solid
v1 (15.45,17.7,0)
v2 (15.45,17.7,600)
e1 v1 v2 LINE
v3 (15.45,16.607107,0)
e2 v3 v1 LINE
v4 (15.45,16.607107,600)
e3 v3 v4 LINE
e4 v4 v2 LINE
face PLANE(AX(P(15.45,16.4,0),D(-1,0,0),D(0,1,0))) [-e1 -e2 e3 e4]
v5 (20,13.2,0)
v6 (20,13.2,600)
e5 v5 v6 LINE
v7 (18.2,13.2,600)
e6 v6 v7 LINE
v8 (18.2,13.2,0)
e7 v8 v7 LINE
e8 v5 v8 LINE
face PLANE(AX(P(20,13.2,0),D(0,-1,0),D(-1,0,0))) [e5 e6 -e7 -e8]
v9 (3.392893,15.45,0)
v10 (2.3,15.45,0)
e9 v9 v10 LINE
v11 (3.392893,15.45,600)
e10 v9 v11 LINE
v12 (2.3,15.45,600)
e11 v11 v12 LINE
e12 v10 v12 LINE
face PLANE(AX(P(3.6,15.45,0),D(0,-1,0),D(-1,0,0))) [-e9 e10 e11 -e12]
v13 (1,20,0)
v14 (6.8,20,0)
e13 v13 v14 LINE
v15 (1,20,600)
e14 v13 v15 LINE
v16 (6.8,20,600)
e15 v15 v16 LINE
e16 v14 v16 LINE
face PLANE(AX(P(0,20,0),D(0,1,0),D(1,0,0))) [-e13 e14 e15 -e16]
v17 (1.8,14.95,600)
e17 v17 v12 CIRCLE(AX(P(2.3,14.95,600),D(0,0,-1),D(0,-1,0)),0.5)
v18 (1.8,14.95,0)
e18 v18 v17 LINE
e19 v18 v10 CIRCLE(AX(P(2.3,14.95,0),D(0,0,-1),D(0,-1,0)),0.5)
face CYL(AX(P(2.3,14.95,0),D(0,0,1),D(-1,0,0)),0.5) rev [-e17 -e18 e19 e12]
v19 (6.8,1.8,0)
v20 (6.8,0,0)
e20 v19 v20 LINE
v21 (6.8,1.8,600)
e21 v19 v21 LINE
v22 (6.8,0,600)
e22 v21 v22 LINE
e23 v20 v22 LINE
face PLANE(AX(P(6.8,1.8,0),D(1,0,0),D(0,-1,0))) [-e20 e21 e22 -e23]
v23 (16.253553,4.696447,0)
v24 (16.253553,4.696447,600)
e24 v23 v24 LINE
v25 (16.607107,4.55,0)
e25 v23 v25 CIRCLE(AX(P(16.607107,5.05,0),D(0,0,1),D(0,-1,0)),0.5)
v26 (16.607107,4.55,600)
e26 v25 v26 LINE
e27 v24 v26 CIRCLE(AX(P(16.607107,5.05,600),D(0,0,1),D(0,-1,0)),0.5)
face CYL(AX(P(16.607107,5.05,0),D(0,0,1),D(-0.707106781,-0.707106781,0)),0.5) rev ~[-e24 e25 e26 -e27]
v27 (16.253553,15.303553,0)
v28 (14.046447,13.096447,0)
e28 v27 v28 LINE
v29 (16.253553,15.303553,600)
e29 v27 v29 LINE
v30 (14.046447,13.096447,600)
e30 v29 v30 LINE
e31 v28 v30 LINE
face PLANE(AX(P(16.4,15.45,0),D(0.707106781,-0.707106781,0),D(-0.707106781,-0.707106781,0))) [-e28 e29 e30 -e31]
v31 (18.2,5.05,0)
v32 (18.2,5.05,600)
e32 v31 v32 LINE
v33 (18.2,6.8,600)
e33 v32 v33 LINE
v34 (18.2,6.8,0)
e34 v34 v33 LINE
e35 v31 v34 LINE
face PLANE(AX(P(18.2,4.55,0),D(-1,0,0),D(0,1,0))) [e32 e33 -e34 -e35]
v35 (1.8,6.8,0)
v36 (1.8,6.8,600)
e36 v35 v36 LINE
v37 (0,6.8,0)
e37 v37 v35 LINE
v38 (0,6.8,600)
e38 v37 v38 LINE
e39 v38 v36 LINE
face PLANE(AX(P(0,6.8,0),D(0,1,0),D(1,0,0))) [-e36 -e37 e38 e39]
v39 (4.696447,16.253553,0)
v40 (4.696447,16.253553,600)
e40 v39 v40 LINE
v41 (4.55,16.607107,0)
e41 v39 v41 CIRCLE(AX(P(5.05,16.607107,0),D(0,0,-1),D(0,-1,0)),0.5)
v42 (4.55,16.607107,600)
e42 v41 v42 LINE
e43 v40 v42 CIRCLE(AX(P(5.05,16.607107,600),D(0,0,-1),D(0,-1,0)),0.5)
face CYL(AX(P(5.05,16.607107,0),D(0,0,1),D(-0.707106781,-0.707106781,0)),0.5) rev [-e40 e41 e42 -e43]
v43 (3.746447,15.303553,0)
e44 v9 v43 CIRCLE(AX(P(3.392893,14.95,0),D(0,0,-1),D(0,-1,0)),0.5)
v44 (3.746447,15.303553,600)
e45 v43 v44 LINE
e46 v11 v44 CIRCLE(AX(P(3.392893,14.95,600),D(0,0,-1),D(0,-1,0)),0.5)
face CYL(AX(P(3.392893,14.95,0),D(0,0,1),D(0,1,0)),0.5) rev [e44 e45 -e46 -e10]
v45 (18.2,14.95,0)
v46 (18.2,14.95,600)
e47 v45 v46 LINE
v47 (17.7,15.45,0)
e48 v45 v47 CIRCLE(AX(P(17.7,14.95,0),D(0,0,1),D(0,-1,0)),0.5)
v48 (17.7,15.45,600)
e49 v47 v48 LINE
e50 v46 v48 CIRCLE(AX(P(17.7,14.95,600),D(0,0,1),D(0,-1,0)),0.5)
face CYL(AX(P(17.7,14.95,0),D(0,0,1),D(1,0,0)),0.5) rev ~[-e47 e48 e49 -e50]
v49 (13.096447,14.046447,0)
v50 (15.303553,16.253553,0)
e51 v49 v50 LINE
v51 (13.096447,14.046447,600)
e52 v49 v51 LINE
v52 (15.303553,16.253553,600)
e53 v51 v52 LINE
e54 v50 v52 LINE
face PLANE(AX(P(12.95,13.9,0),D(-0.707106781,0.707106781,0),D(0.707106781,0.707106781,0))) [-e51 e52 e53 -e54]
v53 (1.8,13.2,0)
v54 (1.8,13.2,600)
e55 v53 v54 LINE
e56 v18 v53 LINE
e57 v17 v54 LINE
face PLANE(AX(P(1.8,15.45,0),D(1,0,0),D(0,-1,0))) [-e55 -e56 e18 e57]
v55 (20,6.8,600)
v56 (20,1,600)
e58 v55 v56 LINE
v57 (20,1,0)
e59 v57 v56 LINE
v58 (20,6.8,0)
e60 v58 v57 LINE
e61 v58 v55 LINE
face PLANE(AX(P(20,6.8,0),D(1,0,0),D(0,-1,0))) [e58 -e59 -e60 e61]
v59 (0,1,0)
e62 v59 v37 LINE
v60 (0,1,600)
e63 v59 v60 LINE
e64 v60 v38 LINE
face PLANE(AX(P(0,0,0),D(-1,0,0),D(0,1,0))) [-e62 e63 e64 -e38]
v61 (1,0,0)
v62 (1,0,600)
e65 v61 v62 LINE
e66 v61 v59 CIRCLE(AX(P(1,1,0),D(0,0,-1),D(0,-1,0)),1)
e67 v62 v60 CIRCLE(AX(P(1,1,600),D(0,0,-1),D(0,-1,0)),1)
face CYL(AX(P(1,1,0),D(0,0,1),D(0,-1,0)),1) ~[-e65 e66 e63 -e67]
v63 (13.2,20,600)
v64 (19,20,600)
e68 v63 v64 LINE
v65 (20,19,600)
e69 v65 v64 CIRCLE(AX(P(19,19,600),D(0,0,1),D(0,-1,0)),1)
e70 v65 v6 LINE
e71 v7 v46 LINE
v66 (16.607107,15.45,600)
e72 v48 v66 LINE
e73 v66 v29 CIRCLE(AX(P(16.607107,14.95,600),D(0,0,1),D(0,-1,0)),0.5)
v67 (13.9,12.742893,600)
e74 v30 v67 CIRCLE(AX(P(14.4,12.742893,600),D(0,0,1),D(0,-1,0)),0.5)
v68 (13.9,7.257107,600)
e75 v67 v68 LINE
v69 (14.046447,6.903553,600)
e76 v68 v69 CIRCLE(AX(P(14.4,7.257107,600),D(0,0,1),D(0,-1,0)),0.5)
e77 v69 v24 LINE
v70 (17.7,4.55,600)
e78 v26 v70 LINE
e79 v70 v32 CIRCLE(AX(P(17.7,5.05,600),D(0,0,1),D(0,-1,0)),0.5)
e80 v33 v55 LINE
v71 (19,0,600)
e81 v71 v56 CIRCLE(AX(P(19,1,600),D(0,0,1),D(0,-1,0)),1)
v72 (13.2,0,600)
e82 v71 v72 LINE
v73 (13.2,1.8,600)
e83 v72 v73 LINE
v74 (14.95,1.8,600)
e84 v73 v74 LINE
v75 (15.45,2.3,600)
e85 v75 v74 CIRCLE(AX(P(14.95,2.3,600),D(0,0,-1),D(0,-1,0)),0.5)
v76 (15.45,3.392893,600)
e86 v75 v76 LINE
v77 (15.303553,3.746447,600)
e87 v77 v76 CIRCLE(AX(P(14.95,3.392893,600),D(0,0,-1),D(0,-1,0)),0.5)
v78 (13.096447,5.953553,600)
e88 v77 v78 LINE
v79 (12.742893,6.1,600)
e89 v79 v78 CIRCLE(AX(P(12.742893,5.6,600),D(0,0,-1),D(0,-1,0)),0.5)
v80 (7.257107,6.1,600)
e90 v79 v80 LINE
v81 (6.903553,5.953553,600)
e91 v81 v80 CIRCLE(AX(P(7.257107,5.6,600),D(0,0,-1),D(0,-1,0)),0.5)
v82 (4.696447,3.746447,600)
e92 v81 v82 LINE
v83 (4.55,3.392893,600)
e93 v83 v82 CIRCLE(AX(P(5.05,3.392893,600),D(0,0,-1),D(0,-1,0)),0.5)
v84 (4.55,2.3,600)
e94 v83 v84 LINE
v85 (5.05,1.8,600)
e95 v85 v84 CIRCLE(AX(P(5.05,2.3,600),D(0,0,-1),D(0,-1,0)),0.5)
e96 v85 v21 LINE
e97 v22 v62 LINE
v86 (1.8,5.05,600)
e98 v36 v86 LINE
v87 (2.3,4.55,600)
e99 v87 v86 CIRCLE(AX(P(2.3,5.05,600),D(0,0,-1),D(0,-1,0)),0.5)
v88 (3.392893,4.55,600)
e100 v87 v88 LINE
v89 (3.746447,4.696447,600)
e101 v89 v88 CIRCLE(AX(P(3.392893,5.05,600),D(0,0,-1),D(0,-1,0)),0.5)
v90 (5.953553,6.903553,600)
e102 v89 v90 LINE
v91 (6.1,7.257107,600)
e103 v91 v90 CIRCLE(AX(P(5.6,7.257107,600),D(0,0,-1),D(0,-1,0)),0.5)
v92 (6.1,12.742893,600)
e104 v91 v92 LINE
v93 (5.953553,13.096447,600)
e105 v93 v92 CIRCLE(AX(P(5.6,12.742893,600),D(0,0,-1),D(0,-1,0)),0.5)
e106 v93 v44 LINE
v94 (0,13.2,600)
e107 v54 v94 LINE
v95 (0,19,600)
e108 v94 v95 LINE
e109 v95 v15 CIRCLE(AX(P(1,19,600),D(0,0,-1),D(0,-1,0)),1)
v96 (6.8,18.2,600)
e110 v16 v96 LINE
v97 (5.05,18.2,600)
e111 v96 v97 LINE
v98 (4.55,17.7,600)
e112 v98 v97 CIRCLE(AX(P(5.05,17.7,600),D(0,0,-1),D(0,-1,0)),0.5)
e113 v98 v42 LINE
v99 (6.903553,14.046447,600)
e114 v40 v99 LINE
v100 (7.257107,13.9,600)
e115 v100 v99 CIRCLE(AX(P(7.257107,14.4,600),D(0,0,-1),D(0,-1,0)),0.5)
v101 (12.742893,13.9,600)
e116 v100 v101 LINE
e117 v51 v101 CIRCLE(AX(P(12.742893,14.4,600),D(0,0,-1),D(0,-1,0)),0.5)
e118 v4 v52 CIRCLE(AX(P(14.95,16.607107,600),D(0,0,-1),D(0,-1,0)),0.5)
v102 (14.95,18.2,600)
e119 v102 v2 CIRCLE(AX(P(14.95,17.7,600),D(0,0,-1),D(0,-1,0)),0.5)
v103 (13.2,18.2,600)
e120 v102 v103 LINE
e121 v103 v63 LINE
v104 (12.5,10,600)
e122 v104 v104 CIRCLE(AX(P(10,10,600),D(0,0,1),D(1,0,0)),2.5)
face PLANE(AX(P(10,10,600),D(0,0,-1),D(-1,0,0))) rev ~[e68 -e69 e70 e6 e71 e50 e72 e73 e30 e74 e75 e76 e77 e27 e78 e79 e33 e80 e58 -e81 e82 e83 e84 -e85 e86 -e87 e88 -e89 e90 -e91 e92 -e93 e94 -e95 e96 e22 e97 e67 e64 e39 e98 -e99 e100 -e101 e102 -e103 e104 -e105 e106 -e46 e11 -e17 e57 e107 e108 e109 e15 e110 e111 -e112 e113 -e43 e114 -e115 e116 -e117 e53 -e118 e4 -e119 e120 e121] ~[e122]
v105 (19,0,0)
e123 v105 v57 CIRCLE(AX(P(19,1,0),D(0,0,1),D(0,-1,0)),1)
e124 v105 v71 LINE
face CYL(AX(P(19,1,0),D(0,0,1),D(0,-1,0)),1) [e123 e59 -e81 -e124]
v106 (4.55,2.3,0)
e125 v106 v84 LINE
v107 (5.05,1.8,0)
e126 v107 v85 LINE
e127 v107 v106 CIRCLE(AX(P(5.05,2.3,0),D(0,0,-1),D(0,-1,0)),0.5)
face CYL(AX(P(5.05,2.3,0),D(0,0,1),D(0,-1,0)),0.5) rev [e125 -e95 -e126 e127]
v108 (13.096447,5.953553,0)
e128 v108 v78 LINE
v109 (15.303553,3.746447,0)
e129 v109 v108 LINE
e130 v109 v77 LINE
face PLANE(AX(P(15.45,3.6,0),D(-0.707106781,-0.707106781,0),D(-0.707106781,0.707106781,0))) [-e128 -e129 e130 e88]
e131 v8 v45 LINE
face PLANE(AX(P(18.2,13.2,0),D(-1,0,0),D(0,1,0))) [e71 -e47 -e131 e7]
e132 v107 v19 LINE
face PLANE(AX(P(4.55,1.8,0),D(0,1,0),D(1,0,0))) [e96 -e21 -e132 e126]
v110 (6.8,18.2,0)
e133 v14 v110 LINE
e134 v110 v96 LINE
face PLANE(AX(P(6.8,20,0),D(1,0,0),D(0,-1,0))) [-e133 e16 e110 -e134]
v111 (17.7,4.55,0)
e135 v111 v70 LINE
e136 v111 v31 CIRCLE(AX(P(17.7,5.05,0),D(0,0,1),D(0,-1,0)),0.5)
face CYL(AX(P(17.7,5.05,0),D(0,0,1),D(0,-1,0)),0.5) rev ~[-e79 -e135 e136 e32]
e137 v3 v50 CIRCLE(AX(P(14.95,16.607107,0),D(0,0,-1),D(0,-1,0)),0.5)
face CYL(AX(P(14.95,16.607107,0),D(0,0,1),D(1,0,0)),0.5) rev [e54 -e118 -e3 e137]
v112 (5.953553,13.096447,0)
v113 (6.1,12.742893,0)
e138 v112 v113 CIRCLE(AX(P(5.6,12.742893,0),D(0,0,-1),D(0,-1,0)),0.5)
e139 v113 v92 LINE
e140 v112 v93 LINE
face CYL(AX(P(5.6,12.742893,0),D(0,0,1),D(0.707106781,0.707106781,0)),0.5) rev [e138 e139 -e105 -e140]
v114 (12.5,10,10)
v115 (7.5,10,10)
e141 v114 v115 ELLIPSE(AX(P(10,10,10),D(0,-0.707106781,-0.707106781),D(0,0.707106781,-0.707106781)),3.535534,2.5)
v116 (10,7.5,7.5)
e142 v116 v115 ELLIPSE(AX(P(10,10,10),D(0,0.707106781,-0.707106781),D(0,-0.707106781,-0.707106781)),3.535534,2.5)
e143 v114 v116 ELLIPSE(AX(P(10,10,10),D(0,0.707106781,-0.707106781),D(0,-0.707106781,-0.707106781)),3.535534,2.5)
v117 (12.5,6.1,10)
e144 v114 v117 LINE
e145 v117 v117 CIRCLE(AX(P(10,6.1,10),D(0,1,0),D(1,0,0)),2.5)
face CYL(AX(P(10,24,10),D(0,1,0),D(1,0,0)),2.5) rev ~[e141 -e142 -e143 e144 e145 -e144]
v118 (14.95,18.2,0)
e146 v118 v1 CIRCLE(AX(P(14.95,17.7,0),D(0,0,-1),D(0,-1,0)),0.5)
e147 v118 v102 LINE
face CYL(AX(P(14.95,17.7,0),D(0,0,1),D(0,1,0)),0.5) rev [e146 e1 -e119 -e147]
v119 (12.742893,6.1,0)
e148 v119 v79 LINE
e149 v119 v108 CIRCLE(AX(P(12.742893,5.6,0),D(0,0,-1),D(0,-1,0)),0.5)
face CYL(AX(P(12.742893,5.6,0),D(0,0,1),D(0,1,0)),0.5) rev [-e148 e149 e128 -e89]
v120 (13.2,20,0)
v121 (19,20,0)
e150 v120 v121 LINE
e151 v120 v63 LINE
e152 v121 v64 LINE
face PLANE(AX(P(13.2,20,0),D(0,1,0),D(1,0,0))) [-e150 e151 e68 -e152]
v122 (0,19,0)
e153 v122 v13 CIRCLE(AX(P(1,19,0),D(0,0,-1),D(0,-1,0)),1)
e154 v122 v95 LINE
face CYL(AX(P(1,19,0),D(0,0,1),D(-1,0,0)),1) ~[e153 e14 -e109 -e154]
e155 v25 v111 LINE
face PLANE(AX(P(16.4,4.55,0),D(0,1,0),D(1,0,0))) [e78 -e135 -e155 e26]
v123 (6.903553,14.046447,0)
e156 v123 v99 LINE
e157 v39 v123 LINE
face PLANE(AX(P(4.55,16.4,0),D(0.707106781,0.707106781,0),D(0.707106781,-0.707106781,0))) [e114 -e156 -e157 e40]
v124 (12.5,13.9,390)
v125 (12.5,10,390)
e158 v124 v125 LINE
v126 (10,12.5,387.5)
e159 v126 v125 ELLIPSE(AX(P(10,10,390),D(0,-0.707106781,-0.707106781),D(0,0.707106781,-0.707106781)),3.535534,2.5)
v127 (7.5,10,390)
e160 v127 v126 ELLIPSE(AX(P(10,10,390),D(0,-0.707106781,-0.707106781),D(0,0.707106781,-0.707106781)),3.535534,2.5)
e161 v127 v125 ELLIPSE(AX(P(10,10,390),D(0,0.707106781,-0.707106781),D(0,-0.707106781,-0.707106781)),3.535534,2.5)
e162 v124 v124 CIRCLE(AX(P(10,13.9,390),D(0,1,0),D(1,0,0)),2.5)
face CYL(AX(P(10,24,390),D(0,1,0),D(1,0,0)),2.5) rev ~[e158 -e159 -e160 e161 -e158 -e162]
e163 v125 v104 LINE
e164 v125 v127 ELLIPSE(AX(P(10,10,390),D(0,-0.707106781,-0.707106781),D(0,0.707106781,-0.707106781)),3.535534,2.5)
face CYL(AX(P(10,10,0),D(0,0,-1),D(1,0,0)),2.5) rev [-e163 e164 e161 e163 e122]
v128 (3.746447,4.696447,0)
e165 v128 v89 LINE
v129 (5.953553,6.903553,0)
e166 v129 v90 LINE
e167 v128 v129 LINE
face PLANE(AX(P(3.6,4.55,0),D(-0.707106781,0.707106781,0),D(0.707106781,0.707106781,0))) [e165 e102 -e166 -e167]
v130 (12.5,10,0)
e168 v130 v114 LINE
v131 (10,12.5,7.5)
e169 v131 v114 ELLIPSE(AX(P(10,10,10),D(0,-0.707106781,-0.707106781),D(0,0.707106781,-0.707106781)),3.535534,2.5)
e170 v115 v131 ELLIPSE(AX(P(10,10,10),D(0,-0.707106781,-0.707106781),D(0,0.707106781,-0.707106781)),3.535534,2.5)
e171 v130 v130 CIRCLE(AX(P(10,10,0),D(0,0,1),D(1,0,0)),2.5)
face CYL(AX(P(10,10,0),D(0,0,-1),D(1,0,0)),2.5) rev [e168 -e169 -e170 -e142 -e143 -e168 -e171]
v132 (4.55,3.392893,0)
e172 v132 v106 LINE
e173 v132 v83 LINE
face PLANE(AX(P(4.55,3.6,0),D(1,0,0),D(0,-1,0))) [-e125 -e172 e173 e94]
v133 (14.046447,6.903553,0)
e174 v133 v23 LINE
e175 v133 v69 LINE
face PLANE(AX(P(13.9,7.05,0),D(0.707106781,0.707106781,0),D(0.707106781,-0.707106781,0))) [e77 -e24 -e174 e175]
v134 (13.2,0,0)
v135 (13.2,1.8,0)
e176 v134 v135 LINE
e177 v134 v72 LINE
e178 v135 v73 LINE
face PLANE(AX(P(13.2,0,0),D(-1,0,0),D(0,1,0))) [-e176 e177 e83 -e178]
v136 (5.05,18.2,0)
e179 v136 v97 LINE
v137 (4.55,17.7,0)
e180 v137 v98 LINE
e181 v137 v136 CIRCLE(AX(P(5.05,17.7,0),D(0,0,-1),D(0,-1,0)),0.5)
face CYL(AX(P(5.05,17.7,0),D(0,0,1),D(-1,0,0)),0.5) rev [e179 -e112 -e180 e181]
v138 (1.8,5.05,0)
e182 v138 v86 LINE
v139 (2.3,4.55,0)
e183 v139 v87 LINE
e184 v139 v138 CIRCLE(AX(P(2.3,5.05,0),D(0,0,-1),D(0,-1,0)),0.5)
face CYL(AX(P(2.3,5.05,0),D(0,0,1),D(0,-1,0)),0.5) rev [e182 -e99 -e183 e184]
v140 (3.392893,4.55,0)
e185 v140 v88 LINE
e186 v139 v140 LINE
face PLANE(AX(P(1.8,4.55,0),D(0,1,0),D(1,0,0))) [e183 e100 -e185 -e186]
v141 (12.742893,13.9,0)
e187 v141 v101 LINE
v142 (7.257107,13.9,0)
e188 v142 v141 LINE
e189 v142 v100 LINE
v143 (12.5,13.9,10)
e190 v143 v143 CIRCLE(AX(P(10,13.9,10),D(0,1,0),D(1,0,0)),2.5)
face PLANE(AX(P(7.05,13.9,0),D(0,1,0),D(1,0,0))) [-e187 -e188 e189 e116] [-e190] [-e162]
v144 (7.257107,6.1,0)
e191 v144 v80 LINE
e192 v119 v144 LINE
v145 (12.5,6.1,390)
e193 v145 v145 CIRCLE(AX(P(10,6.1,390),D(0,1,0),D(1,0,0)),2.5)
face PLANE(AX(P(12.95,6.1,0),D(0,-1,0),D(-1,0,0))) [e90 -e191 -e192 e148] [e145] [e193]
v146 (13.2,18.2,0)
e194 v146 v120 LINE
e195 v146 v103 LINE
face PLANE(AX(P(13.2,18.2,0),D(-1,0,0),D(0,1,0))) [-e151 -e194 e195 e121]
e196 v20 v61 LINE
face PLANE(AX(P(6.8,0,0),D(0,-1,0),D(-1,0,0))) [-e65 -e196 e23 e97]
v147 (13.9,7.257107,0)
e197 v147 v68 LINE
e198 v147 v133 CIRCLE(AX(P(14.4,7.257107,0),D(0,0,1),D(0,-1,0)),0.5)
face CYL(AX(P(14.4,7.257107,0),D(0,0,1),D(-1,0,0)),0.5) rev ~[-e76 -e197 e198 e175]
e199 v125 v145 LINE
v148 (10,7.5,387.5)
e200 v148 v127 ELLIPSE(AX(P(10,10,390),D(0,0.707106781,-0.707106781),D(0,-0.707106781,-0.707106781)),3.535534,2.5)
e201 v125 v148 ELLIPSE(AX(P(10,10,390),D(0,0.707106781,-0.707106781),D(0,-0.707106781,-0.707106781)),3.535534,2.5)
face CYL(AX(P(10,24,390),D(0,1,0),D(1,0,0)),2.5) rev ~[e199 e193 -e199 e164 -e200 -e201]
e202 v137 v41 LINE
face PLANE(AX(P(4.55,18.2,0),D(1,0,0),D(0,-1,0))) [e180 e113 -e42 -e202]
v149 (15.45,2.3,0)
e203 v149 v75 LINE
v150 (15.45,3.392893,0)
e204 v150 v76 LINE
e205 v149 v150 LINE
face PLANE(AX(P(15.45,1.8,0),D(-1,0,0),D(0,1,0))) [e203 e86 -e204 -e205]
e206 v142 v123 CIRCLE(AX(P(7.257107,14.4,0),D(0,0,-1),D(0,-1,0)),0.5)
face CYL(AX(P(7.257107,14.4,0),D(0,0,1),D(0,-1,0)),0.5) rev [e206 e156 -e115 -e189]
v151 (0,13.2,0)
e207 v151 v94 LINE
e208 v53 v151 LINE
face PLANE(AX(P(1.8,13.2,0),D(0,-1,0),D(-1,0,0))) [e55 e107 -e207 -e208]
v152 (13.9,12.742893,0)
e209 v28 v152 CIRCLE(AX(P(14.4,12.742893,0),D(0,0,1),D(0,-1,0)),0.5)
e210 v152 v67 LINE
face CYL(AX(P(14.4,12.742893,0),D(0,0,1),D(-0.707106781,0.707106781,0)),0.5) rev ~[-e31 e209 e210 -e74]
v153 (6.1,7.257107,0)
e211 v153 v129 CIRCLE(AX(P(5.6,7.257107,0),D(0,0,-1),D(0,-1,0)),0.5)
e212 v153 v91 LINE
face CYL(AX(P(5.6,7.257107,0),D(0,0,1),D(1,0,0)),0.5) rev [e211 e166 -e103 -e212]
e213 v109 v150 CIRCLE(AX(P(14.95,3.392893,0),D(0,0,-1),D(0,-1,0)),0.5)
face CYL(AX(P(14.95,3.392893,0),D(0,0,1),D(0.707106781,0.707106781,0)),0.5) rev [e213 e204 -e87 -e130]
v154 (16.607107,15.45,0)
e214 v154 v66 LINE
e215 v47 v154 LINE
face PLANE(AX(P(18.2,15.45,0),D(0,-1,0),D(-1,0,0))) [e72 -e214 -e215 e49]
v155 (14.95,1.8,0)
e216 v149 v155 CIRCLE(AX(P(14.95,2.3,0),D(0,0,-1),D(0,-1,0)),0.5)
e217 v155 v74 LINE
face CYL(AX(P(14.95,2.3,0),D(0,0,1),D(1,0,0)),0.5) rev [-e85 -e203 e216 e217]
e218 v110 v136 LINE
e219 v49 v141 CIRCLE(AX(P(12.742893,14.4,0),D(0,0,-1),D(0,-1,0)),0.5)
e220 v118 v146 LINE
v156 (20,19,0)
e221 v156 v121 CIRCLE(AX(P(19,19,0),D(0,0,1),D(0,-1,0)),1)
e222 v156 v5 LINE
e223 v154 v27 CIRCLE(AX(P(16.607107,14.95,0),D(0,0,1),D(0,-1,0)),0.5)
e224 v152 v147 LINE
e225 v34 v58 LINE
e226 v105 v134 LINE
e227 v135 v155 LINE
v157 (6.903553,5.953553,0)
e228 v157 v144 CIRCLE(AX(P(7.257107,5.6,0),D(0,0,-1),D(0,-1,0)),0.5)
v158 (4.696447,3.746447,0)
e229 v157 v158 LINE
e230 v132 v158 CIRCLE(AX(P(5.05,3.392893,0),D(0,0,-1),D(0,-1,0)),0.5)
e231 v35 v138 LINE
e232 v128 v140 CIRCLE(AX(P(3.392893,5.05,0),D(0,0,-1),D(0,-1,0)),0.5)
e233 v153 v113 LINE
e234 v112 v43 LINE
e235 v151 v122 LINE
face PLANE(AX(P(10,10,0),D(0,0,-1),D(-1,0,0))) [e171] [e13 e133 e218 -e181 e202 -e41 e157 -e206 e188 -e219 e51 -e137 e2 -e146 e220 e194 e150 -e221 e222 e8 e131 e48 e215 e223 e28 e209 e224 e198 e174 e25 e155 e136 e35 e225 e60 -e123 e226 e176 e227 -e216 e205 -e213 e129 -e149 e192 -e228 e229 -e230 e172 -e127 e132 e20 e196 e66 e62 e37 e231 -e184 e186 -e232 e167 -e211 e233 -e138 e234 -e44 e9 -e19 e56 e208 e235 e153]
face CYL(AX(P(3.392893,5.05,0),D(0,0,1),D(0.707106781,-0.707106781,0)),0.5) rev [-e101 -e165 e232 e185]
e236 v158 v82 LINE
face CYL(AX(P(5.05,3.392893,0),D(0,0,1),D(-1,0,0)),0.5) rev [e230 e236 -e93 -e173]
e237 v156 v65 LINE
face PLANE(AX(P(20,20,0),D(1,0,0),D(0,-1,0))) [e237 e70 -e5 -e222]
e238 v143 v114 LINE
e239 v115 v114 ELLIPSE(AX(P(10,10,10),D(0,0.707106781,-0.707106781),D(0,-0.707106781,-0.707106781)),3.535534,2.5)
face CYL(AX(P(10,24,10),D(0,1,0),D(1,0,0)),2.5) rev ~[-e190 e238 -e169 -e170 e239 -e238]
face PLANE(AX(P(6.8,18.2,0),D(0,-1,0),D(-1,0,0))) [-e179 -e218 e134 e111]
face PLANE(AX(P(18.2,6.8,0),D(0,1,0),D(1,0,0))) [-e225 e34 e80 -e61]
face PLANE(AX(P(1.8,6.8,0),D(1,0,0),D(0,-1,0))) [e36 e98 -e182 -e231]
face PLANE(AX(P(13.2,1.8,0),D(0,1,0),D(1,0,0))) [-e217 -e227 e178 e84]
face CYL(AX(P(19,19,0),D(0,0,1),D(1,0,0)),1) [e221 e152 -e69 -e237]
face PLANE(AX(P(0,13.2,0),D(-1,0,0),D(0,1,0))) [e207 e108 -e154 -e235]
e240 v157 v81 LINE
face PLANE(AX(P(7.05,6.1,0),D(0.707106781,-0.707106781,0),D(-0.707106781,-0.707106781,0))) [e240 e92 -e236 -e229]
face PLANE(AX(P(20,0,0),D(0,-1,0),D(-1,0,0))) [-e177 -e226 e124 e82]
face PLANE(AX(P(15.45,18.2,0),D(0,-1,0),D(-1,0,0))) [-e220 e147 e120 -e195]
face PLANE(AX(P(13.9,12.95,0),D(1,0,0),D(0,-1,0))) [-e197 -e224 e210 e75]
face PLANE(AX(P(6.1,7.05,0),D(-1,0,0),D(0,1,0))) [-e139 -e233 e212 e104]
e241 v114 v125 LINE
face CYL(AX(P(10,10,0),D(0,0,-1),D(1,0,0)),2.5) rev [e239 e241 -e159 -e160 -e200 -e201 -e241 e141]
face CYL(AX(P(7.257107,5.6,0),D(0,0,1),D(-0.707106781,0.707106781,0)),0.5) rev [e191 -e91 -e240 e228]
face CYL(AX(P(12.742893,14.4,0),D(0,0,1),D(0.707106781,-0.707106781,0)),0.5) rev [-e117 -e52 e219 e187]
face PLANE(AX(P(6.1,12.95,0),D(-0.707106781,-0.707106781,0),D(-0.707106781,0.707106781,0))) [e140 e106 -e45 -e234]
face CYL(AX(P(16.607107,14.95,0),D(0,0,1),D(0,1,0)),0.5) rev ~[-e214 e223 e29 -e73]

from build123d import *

# Parameters (mm, degrees)
SKETCH1_R           = 2.5
BOSS_EXTRUDE1_DEPTH = 600
FILLET1_R           = 1
FILLET2_R           = 0.5
FILLET3_R           = 0.5
FILLET4_R           = 0.5
FILLET5_R           = 0.5
CUT_EXTRUDE1_REACH  = 602.813
SKETCH2_R           = 2.5


with BuildPart() as part:
    # Sketch1 → Boss-Extrude1 (new body)
    with BuildSketch(Plane.XY):
        Polygon((13.2, 0), (13.2, 1.8), (15.45, 1.8), (15.45, 3.6), (12.95, 6.1), (7.05, 6.1), (4.55, 3.6), (4.55, 1.8), (6.8, 1.8), (6.8, 0), (0, 0), (0, 6.8), (1.8, 6.8), (1.8, 4.55), (3.6, 4.55), (6.1, 7.05), (6.1, 12.95), (3.6, 15.45), (1.8, 15.45), (1.8, 13.2), (0, 13.2), (0, 20), (6.8, 20), (6.8, 18.2), (4.55, 18.2), (4.55, 16.4), (7.05, 13.9), (12.95, 13.9), (15.45, 16.4), (15.45, 18.2), (13.2, 18.2), (13.2, 20), (20, 20), (20, 13.2), (18.2, 13.2), (18.2, 15.45), (16.4, 15.45), (13.9, 12.95), (13.9, 7.05), (16.4, 4.55), (18.2, 4.55), (18.2, 6.8), (20, 6.8), (20, 0), align=None)
        with Locations((10, 10)):
            Circle(SKETCH1_R, mode=Mode.SUBTRACT)
    extrude(amount=BOSS_EXTRUDE1_DEPTH)

    # Fillet1
    fillet1_edges = [part.edges().sort_by_distance(p)[0] for p in [
        (0, 0, 300),
        (0, 20, 300),
        (20, 20, 300),
        (20, 0, 300),
    ]]
    fillet(fillet1_edges, radius=FILLET1_R)

    # Fillet2
    fillet2_edges = [part.edges().sort_by_distance(p)[0] for p in [
        (4.55, 18.2, 300),
        (4.55, 16.4, 300),
        (7.05, 13.9, 300),
        (12.95, 13.9, 300),
        (15.45, 16.4, 300),
        (15.45, 18.2, 300),
    ]]
    fillet(fillet2_edges, radius=FILLET2_R)

    # Fillet3
    fillet3_edges = [part.edges().sort_by_distance(p)[0] for p in [
        (18.2, 15.45, 300),
        (16.4, 15.45, 300),
        (13.9, 12.95, 300),
        (13.9, 7.05, 300),
        (16.4, 4.55, 300),
        (18.2, 4.55, 300),
    ]]
    fillet(fillet3_edges, radius=FILLET3_R)

    # Fillet4
    fillet4_edges = [part.edges().sort_by_distance(p)[0] for p in [
        (1.8, 4.55, 300),
        (3.6, 4.55, 300),
        (6.1, 7.05, 300),
        (6.1, 12.95, 300),
        (3.6, 15.45, 300),
        (1.8, 15.45, 300),
    ]]
    fillet(fillet4_edges, radius=FILLET4_R)

    # Fillet5
    fillet5_edges = [part.edges().sort_by_distance(p)[0] for p in [
        (15.45, 1.8, 300),
        (15.45, 3.6, 300),
        (12.95, 6.1, 300),
        (7.05, 6.1, 300),
        (4.55, 3.6, 300),
        (4.55, 1.8, 300),
    ]]
    fillet(fillet5_edges, radius=FILLET5_R)

    # Cut-Extrude1: up to this face of the body (flat: up to its plane)
    cut_extrude1_end = Plane(part.part.faces().sort_by_distance((10, 6.1, 300))[0])
    # Sketch2 → Cut-Extrude1 (cut, up to the picked face)
    with BuildSketch(Plane(origin=(0, 24, 0), x_dir=(1, 0, 0), z_dir=(0, 1, 0)), mode=Mode.PRIVATE) as cut_extrude1_sk1:
        with Locations((10, -10)):
            Circle(SKETCH2_R)
    cut_extrude1_tool1 = split(extrude(cut_extrude1_sk1.sketch, amount=-CUT_EXTRUDE1_REACH, mode=Mode.PRIVATE), bisect_by=cut_extrude1_end, keep=Keep.BOTH, mode=Mode.PRIVATE)
    # Sketch2 → Cut-Extrude1 (cut, up to the picked face)
    with BuildSketch(Plane(origin=(0, 24, 0), x_dir=(1, 0, 0), z_dir=(0, 1, 0)), mode=Mode.PRIVATE) as cut_extrude1_sk2:
        with Locations((10, -390)):
            Circle(SKETCH2_R)
    cut_extrude1_tool2 = split(extrude(cut_extrude1_sk2.sketch, amount=-CUT_EXTRUDE1_REACH, mode=Mode.PRIVATE), bisect_by=cut_extrude1_end, keep=Keep.BOTH, mode=Mode.PRIVATE)
    add(cut_extrude1_tool1.solids().sort_by(Axis((10, 24, 10), (0, -1, 0)))[0], mode=Mode.SUBTRACT)
    add(cut_extrude1_tool2.solids().sort_by(Axis((10, 24, 390), (0, -1, 0)))[0], mode=Mode.SUBTRACT)


solid = part.part
